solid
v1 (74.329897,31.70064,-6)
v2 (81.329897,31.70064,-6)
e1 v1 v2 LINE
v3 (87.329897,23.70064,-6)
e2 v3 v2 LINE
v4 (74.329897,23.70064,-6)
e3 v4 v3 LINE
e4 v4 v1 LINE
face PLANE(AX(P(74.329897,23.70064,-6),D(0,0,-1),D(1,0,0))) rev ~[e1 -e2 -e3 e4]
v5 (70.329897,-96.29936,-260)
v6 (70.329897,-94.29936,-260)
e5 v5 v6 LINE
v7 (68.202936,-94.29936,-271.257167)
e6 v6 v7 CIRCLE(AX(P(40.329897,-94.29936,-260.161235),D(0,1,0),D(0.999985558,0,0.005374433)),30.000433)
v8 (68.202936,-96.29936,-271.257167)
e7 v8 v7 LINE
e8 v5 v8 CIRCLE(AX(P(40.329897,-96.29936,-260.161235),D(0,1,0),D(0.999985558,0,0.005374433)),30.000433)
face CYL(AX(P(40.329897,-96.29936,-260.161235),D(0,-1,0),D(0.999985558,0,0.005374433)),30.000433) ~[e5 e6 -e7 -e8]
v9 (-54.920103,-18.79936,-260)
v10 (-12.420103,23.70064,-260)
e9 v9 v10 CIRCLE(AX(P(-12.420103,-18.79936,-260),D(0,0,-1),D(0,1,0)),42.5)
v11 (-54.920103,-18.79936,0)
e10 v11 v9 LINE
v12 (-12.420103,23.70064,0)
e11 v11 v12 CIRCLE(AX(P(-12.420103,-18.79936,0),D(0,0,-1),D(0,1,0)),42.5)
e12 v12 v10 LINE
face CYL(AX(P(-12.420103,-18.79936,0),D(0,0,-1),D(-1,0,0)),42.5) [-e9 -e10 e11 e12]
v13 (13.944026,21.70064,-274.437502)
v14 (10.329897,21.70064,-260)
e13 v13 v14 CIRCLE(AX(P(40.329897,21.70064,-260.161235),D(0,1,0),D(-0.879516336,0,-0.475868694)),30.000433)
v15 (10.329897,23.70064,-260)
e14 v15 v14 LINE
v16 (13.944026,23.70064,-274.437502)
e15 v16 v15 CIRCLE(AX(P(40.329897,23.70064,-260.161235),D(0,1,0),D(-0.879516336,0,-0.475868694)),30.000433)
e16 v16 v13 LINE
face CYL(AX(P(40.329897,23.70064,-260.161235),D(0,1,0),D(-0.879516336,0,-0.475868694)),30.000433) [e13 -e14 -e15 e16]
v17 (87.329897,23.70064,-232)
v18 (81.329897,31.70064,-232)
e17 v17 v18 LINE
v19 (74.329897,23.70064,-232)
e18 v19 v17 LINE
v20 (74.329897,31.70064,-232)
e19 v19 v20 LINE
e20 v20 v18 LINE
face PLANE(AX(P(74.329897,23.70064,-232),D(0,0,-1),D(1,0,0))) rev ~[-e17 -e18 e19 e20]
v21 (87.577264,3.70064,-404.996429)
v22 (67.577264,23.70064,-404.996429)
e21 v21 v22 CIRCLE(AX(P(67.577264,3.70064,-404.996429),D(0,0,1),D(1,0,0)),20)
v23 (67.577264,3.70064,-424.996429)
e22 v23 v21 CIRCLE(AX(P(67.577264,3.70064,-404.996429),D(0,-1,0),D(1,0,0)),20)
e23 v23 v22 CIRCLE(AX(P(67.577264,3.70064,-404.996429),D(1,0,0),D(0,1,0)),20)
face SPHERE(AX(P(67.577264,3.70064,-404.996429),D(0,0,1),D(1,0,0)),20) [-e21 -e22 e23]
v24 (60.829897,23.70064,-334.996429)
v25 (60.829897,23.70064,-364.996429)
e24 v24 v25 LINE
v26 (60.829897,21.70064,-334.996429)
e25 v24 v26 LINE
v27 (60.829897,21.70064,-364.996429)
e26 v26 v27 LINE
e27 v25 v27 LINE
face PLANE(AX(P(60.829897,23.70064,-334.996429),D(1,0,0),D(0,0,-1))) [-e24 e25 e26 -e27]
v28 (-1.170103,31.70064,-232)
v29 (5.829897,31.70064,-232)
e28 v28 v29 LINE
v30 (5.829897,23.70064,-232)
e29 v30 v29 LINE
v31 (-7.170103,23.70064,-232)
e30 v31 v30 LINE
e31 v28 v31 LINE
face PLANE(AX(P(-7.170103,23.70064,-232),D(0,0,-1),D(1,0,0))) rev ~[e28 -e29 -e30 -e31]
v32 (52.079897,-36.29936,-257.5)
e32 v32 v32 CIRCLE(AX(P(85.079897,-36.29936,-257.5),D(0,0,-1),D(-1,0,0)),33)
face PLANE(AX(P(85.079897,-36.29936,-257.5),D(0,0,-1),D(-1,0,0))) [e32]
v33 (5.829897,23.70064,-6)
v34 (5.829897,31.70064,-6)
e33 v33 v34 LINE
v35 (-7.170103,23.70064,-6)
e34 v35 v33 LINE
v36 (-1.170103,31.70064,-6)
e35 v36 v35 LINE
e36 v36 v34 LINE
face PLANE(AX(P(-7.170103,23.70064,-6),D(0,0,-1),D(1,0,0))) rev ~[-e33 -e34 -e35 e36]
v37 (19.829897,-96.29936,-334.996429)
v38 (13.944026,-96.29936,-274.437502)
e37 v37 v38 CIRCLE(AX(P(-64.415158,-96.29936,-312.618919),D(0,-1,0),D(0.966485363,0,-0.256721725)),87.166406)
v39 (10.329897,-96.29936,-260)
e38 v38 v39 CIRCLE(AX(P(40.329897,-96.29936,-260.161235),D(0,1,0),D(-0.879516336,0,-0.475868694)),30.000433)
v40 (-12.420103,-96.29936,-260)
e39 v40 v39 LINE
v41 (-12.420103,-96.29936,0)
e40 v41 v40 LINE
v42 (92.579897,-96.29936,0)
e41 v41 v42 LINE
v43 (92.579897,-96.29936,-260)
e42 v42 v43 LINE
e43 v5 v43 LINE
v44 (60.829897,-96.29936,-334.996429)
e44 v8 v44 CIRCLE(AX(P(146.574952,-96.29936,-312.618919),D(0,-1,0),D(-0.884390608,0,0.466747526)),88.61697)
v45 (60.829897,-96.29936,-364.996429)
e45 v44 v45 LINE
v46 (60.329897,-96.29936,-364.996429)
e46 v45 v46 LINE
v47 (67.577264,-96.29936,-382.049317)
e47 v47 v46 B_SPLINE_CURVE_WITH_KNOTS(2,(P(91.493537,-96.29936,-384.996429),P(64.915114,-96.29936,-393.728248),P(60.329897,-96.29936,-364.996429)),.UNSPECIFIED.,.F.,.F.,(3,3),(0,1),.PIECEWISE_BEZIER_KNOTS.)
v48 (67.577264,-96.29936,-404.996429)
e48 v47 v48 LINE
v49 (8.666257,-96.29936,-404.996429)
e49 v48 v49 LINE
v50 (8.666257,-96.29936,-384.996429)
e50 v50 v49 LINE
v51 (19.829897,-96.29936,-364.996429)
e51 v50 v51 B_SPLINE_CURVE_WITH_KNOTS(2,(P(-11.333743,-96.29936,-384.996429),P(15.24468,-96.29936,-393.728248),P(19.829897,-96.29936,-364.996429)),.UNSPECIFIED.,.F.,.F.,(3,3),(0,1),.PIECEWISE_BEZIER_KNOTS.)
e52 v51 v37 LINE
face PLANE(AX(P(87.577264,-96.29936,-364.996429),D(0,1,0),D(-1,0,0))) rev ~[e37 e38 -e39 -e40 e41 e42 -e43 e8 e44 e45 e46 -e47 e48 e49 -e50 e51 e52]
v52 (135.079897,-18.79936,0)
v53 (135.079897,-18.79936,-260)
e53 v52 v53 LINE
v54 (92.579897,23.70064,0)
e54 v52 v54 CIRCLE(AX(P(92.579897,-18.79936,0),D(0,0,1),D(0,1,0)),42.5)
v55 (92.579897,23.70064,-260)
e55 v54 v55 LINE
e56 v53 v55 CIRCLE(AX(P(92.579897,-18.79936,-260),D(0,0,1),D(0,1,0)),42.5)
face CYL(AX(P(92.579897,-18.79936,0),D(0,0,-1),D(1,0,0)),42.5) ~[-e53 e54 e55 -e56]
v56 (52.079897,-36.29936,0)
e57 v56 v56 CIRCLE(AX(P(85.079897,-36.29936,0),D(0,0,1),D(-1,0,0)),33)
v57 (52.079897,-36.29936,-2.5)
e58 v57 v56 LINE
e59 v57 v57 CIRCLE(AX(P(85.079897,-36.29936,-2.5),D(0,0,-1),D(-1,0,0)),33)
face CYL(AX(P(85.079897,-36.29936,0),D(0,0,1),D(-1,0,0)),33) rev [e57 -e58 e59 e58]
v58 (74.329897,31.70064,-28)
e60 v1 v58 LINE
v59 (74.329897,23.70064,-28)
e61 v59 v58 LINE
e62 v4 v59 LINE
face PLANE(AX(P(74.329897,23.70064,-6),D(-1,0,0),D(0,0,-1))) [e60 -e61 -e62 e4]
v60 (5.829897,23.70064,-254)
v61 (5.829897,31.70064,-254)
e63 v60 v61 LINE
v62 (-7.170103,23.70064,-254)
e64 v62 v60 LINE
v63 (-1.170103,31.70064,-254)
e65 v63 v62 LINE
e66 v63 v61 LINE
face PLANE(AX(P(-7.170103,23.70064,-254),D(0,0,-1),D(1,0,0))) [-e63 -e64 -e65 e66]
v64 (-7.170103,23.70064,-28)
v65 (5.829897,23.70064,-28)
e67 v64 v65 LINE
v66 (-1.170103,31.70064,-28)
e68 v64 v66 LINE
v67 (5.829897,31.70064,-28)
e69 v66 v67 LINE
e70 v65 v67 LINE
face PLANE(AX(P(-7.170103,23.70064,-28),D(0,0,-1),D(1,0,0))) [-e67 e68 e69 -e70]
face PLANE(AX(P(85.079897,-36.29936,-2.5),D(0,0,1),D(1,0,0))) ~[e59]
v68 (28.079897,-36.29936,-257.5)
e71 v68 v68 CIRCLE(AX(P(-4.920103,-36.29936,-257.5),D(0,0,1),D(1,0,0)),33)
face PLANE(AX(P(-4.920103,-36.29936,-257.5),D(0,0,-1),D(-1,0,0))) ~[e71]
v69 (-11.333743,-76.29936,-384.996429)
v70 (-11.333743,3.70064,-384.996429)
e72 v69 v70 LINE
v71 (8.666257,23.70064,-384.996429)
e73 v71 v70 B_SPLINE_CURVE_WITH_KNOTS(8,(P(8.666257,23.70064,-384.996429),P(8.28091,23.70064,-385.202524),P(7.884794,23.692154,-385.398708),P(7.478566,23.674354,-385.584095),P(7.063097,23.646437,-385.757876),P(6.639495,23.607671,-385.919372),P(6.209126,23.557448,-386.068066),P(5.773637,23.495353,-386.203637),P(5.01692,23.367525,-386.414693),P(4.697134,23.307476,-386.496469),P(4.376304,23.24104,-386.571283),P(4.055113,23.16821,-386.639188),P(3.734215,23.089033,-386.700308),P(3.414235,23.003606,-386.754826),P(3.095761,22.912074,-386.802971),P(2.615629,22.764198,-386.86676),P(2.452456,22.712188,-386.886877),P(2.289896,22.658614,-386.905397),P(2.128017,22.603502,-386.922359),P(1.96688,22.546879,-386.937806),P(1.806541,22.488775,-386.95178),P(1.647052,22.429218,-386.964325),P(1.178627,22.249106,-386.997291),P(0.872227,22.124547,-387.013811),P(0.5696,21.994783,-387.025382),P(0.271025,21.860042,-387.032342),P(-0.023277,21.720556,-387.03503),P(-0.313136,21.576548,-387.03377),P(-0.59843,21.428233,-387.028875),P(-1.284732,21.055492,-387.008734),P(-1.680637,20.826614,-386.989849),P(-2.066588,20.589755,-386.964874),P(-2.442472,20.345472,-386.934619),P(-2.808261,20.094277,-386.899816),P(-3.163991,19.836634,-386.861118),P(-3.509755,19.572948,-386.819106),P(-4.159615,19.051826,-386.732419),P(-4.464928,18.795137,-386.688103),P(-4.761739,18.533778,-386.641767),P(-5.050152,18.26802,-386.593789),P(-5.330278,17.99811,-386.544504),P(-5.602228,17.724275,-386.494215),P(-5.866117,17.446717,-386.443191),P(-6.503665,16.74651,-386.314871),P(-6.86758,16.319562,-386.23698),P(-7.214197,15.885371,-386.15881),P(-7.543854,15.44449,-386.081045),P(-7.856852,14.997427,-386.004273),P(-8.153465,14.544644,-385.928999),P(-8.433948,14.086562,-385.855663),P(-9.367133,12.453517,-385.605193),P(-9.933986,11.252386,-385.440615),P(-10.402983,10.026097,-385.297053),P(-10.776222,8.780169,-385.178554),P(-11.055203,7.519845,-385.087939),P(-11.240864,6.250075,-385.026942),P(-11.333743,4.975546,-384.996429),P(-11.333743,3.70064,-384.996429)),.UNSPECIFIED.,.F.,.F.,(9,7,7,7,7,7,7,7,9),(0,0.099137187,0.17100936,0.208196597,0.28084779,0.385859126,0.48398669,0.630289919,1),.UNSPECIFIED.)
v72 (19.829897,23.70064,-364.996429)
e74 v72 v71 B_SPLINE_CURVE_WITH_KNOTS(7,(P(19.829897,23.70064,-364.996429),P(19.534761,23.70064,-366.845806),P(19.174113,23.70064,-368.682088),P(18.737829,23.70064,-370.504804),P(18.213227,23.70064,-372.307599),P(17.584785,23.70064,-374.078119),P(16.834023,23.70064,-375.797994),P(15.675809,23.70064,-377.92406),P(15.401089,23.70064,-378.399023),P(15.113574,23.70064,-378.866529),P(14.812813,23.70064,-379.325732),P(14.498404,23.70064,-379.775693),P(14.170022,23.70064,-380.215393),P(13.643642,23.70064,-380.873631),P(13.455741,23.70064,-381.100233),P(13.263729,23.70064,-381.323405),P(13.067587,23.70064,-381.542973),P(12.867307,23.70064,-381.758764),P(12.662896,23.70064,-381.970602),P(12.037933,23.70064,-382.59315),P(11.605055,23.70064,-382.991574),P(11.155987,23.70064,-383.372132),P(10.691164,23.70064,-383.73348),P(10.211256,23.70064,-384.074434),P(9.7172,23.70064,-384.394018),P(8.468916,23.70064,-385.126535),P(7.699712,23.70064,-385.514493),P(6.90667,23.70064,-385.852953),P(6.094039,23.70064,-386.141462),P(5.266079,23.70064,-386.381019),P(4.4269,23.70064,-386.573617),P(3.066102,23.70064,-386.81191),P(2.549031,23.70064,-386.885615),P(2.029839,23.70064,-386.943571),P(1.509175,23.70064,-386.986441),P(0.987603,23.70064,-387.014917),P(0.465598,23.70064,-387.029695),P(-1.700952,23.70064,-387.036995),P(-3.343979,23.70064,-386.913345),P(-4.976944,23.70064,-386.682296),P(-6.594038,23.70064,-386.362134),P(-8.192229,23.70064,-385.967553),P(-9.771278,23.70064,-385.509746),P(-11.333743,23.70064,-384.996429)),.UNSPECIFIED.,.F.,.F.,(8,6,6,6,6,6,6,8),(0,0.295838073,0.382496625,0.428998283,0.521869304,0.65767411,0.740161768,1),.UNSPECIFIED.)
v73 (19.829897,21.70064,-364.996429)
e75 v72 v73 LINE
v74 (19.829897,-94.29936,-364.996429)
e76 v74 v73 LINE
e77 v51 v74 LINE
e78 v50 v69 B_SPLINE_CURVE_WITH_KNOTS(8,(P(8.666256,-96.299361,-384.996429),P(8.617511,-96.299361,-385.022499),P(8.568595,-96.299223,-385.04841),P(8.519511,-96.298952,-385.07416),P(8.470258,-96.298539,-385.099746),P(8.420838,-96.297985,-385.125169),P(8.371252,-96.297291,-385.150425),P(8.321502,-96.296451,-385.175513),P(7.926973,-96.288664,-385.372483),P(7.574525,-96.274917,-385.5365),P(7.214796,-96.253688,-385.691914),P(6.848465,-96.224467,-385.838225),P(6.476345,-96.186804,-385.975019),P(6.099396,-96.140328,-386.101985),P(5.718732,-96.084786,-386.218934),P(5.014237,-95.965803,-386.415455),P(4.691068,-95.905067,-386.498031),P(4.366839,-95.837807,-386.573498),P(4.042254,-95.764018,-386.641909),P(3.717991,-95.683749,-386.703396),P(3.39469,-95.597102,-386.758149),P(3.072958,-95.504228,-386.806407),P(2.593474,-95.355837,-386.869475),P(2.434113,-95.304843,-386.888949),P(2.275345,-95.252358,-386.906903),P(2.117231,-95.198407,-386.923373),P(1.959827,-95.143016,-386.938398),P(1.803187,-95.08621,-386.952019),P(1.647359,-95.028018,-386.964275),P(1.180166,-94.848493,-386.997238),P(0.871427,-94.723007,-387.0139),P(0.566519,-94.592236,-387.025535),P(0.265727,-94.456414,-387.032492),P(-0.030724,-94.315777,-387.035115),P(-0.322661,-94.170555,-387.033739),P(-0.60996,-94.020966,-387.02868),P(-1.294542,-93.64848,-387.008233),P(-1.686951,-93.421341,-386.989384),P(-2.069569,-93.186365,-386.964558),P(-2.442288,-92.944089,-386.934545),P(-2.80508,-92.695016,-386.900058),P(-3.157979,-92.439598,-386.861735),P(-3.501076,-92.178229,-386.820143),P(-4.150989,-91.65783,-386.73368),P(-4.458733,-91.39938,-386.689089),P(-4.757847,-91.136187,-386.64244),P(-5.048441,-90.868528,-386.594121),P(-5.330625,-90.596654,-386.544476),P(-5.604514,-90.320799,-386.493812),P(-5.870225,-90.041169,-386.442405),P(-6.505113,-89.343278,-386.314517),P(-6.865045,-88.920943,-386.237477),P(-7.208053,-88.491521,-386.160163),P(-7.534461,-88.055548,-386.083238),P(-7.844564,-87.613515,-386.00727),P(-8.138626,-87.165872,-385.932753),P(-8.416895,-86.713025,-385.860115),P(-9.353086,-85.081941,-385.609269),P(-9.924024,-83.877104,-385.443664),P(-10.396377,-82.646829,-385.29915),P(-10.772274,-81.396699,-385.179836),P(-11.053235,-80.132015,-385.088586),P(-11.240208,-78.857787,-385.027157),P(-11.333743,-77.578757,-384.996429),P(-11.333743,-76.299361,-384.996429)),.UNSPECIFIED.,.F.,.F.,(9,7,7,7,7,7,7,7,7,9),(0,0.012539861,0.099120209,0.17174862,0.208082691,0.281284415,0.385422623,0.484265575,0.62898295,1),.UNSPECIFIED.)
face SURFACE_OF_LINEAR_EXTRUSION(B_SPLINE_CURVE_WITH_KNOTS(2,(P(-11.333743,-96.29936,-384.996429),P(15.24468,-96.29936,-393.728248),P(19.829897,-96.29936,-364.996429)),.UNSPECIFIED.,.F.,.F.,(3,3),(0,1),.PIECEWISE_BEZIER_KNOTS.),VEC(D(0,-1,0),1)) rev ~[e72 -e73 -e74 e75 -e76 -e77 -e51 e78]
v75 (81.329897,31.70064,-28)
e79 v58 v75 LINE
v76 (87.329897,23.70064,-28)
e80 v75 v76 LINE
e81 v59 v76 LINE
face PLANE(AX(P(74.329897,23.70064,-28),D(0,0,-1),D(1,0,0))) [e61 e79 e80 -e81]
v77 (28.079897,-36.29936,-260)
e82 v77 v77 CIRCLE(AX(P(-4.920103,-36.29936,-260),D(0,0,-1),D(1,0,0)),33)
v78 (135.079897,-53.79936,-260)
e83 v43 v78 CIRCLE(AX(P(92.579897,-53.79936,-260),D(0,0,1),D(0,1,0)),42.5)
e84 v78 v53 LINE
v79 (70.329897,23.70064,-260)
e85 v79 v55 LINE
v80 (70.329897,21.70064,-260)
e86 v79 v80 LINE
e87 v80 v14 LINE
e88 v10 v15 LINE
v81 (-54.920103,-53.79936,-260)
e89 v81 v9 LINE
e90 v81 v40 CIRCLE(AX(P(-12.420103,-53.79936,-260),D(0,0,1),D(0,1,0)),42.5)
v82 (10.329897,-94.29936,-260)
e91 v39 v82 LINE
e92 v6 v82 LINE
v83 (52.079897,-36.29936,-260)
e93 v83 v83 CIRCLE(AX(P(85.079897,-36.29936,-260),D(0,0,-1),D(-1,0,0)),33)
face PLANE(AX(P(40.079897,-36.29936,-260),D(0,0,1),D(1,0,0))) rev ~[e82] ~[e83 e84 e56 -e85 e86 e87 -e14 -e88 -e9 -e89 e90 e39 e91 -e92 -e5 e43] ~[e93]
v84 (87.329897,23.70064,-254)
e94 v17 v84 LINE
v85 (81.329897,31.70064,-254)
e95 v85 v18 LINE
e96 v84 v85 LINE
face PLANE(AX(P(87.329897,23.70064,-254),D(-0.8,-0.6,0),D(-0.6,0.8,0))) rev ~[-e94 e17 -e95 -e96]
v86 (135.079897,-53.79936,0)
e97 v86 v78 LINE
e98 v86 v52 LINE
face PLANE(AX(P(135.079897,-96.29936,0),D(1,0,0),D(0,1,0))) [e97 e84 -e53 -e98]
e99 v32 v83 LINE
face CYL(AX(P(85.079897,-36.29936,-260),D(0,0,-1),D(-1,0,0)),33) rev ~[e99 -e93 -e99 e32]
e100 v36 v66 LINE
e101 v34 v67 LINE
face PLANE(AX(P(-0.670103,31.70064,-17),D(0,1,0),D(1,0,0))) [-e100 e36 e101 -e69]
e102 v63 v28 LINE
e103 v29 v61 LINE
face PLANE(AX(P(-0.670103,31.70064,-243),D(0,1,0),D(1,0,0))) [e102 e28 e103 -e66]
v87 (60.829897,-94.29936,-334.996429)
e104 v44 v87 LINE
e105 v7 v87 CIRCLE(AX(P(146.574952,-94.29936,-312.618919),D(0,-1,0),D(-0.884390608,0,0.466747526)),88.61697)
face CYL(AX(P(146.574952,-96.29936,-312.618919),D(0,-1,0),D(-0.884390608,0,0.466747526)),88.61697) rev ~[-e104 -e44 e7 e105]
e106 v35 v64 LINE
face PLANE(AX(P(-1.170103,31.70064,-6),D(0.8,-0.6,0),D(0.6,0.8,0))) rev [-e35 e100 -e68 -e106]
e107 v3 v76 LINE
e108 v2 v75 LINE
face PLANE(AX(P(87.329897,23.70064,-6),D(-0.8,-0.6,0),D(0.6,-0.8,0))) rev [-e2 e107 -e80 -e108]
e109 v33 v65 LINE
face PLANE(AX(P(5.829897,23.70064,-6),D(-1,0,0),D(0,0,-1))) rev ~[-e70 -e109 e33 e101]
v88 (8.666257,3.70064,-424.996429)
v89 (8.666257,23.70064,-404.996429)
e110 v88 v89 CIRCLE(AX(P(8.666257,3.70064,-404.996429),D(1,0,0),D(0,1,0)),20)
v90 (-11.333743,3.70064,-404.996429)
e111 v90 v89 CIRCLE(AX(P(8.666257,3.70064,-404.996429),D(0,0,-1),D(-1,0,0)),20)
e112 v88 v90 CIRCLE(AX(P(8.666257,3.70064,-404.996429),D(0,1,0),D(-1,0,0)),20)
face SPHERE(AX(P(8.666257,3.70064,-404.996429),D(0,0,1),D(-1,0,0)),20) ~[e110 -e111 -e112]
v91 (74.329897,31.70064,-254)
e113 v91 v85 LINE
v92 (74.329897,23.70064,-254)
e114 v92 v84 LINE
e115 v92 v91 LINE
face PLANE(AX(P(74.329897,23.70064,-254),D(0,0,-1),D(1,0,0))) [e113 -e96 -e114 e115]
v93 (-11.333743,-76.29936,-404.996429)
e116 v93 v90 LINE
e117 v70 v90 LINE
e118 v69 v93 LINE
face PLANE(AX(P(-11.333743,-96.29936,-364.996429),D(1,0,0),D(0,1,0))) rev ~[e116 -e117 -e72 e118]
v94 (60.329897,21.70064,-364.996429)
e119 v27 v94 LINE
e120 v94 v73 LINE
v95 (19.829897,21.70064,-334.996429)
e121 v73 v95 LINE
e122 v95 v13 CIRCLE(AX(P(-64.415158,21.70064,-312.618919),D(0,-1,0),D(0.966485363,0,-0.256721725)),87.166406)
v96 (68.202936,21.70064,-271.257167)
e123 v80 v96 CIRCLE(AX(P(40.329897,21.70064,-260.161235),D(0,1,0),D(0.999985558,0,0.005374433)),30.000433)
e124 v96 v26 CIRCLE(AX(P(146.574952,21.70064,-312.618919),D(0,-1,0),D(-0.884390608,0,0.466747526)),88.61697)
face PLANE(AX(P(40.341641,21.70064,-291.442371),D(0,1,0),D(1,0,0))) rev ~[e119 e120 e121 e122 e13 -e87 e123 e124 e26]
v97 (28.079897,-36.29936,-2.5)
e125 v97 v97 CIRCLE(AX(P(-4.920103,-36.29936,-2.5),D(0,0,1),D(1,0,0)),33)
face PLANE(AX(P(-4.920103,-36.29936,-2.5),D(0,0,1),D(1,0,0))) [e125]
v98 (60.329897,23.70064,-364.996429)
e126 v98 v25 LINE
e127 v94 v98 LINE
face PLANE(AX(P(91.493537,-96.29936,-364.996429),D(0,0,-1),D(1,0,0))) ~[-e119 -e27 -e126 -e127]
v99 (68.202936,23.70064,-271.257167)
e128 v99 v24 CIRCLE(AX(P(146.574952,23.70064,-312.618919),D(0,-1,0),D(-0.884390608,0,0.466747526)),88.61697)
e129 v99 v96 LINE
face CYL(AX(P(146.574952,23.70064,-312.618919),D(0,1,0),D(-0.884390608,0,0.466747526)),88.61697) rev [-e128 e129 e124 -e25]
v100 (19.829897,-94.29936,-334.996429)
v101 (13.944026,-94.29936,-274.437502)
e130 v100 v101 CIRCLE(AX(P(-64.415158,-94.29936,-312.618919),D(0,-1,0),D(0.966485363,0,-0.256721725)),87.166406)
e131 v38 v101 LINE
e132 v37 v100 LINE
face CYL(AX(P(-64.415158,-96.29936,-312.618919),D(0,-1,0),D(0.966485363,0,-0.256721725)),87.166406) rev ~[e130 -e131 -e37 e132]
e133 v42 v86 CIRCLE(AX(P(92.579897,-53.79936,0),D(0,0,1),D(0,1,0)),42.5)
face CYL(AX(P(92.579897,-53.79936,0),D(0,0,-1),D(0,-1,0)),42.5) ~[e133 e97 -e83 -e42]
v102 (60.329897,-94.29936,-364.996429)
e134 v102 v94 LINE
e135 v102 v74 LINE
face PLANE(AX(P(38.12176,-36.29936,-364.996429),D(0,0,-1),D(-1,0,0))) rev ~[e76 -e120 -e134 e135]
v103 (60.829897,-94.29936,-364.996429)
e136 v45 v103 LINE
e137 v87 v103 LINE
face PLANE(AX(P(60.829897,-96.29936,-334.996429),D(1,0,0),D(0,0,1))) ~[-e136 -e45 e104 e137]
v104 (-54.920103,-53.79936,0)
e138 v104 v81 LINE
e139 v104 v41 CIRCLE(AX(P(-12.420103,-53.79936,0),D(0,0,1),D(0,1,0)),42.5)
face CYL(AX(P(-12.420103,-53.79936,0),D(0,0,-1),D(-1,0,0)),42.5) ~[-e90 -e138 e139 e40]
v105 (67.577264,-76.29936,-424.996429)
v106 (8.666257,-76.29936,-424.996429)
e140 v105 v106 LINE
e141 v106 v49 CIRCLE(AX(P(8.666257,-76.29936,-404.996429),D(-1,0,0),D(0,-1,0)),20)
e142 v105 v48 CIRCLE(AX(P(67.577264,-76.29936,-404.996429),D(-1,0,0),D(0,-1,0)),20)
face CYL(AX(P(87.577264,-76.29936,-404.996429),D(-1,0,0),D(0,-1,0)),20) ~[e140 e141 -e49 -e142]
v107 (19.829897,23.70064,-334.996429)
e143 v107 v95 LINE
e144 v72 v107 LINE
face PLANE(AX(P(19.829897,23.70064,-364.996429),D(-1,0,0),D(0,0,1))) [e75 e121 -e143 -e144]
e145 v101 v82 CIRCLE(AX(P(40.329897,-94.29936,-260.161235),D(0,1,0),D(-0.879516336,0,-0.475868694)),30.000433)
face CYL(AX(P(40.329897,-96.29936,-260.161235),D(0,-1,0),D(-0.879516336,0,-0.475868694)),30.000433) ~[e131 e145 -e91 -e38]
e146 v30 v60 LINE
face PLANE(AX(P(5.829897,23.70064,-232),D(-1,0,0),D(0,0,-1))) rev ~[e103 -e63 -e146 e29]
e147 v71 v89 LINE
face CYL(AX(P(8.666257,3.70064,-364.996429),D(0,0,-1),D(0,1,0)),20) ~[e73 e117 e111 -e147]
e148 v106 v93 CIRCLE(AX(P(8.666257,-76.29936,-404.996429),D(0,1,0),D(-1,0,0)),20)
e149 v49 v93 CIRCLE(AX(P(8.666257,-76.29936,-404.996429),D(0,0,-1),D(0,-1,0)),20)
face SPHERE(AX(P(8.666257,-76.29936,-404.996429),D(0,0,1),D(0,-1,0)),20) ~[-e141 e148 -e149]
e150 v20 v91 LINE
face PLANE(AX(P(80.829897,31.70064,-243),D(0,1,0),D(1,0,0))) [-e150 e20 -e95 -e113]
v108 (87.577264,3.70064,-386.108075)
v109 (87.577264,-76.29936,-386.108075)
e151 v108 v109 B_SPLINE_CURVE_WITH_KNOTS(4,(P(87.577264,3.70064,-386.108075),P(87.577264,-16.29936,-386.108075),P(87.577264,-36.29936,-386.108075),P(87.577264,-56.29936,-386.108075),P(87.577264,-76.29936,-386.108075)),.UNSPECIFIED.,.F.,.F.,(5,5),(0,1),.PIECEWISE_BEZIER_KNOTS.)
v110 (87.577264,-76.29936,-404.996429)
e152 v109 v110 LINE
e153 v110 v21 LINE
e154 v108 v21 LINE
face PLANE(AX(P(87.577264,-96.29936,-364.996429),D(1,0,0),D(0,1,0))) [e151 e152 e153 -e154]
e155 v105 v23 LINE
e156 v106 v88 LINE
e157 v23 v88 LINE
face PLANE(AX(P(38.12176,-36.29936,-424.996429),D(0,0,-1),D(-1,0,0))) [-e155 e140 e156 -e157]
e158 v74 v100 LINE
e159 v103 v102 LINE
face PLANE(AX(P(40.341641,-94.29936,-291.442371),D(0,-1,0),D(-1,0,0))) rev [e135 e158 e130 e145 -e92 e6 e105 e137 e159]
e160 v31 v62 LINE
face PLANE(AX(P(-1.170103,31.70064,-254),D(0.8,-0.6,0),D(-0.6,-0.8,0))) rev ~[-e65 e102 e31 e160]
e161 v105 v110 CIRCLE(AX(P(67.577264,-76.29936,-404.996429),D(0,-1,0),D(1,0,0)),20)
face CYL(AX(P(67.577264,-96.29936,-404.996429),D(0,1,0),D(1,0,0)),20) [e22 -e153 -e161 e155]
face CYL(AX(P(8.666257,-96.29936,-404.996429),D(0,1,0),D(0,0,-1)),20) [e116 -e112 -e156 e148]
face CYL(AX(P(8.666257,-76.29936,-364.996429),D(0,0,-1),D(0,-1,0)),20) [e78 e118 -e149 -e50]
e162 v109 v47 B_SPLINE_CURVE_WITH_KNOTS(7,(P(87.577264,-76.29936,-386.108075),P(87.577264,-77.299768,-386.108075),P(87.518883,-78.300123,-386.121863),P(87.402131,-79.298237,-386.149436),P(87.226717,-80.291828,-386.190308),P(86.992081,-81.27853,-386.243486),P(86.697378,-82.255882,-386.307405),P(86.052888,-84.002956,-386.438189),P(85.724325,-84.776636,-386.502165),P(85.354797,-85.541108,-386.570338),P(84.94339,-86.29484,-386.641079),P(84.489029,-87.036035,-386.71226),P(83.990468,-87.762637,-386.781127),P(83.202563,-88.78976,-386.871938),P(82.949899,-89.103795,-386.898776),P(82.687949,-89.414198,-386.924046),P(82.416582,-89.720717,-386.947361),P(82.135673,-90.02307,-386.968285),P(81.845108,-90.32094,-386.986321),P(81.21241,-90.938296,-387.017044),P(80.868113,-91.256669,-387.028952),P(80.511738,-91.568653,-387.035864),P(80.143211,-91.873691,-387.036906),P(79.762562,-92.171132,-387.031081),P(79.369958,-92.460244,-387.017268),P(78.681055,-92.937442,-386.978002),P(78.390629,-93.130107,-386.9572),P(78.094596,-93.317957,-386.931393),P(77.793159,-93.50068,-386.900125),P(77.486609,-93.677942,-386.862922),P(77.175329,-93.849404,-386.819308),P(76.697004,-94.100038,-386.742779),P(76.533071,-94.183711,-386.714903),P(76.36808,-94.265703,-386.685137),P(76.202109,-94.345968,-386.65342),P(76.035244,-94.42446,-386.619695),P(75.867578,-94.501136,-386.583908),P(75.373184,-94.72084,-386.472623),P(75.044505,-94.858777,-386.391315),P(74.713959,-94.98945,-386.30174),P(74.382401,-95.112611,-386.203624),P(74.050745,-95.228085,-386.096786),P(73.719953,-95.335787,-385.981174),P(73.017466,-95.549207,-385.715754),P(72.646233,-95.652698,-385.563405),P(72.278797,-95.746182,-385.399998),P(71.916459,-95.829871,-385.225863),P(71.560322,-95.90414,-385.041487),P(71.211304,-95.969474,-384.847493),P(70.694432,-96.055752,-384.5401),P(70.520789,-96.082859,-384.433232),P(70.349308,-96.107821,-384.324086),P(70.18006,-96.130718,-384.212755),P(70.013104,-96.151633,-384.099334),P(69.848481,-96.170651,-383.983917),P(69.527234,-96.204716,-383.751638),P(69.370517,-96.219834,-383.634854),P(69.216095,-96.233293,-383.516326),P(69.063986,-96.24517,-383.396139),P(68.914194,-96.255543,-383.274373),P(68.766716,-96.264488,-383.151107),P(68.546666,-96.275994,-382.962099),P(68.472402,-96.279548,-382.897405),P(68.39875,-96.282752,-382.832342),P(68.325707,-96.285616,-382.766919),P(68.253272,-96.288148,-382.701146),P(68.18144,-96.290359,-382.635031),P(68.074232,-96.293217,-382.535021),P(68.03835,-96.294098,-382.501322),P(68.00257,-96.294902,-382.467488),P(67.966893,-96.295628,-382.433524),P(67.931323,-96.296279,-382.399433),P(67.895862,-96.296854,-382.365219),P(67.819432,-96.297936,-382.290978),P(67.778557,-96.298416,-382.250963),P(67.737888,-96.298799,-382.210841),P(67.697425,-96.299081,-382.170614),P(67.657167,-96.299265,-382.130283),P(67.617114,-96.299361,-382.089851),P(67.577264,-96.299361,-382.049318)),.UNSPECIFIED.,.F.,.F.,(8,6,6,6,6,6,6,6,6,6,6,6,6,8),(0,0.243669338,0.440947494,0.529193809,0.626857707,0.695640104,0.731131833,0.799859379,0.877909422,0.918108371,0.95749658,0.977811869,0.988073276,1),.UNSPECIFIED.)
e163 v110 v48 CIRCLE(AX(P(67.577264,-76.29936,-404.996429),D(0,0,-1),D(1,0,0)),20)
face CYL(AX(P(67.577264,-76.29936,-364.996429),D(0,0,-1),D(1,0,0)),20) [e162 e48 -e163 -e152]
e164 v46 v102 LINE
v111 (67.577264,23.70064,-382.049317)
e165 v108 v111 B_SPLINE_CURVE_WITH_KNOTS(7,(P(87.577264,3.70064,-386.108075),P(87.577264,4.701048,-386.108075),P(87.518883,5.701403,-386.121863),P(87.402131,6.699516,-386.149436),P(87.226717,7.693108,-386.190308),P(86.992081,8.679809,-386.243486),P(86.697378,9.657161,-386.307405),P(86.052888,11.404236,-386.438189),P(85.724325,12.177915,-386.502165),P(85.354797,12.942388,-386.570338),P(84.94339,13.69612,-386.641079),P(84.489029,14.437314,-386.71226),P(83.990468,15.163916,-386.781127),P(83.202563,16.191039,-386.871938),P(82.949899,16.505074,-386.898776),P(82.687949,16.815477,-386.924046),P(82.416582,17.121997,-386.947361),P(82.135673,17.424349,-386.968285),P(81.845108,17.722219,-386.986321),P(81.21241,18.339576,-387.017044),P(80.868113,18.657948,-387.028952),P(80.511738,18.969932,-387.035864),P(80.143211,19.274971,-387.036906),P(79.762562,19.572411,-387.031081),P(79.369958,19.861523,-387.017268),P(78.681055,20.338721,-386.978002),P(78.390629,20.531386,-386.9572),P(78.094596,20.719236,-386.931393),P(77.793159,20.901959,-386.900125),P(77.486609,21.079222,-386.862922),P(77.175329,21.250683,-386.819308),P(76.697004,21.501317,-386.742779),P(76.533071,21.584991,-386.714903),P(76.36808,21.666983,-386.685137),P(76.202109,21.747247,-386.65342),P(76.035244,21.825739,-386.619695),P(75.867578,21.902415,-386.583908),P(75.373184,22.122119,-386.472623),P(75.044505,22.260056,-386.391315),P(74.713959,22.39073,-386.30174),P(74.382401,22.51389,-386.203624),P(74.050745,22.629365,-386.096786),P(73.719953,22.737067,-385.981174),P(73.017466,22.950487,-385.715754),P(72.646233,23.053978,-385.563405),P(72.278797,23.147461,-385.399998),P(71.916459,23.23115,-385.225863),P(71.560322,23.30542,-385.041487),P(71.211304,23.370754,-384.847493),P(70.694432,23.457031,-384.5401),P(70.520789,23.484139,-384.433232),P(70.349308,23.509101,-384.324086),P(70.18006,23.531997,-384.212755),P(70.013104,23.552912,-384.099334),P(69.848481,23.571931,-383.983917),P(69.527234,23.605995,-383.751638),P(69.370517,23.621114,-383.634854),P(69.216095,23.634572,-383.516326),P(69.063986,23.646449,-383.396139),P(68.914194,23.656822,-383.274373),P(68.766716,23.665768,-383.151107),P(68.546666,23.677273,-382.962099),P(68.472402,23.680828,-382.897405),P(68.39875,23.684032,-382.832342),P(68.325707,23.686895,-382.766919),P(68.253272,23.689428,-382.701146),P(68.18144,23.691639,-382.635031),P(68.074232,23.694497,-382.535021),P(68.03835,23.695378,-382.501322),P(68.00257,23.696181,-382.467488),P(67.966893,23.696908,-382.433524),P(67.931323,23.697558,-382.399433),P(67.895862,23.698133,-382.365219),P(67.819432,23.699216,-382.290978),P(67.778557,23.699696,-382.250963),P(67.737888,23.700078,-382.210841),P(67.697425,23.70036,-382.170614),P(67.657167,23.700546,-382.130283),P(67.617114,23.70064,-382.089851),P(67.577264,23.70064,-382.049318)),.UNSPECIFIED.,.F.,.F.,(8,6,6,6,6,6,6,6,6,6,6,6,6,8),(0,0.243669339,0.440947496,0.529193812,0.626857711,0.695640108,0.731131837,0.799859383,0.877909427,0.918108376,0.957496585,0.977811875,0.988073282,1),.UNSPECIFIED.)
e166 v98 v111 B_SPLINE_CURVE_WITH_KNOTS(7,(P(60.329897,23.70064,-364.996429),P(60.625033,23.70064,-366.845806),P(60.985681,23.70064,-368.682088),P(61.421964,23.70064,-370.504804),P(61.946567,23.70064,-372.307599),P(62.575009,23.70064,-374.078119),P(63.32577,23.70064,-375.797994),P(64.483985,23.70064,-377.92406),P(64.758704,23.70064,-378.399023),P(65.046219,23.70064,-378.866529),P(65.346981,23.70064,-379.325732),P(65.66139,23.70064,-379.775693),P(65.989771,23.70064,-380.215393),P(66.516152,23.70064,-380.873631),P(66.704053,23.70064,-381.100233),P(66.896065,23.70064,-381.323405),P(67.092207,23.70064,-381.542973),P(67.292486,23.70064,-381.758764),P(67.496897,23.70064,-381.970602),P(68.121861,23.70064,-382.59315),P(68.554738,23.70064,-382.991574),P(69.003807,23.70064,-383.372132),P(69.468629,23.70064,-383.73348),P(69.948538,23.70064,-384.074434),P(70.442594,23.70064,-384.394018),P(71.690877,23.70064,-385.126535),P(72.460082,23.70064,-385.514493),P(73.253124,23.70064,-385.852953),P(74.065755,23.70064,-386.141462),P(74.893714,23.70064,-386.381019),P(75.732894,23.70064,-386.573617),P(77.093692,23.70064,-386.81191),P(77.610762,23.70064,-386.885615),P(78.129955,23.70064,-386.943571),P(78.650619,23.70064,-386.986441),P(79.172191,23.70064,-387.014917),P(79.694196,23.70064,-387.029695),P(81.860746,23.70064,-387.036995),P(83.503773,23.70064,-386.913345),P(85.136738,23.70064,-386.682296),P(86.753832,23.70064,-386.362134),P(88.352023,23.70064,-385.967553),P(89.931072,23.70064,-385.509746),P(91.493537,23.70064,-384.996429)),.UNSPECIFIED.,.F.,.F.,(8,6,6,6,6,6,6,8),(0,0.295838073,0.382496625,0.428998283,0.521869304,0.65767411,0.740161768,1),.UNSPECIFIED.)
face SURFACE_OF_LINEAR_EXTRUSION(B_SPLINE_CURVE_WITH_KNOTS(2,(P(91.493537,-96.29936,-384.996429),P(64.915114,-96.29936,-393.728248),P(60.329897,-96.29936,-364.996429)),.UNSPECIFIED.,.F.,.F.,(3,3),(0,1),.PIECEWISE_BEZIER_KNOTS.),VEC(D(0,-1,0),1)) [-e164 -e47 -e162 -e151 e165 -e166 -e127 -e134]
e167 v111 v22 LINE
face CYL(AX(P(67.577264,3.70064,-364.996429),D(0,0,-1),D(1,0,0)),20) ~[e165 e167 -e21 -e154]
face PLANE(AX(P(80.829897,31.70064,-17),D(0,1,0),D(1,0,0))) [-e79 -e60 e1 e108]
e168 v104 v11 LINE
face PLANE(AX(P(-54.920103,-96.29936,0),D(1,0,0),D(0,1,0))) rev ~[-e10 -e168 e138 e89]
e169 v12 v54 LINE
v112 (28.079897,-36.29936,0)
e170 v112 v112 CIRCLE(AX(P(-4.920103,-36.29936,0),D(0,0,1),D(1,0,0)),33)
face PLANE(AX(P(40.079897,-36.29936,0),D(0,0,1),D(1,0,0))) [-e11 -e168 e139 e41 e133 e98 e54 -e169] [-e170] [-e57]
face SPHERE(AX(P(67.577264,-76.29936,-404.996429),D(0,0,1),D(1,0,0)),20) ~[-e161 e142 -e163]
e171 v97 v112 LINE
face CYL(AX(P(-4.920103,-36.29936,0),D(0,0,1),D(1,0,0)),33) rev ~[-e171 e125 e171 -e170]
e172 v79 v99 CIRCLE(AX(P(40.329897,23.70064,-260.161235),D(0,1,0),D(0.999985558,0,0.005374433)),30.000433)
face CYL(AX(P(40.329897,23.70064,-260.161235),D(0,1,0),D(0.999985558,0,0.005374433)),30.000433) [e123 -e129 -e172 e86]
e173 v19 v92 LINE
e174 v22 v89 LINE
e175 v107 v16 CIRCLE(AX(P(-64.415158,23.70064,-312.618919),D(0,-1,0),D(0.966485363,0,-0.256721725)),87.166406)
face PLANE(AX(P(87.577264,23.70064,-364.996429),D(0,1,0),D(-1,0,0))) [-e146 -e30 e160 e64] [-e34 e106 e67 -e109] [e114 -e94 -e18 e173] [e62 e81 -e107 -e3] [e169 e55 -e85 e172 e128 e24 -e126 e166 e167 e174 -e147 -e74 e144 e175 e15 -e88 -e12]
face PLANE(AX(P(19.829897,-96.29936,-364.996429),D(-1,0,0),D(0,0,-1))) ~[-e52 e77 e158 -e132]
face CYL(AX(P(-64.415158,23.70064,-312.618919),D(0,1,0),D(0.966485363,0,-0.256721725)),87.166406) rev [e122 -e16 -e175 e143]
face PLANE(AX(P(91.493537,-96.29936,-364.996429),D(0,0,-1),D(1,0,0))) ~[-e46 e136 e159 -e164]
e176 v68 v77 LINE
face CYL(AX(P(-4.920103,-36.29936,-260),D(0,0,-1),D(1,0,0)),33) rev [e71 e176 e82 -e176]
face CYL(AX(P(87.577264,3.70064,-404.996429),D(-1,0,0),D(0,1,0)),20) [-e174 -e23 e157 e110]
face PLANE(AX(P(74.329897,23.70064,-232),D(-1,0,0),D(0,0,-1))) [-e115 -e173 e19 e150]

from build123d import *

# Parameters (mm, degrees)
SKETCH1_W               = 190
SKETCH1_H               = 120
BOSS_EXTRUDE1_DEPTH     = 260
FILLET1_R               = 42.5
SKETCH2_W               = 13
SKETCH2_H               = 22
BOSS_EXTRUDE2_DEPTH     = 8
CUT_EXTRUDE5_DEPTH      = 32
CUT_EXTRUDE6_DEPTH      = 32
BOSS_EXTRUDE3_DEPTH     = 2
SKETCH10_R              = 33
CUT_EXTRUDE7_DEPTH      = 2.5
MIRROR3_COPY_1_SKETCH_R = 33
MIRROR3_COPY_1_DEPTH    = 2.5
SKETCH11_W              = 98.911006982
SKETCH11_H              = 120
BOSS_EXTRUDE4_DEPTH     = 60
FILLET2_R               = 20
CUT_EXTRUDE8_REACH      = 465.953


with BuildPart() as part:
    # Sketch1 → Boss-Extrude1 (new body)
    with BuildSketch(Plane.XY):
        with Locations((40.07989685, -36.299360248)):
            Rectangle(SKETCH1_W, SKETCH1_H)
    extrude(amount=-BOSS_EXTRUDE1_DEPTH)

    # Fillet1
    fillet1_edges = [part.edges().sort_by_distance(p)[0] for p in [
        (-54.92010315, 23.700639752, -130),
        (135.07989685, 23.700639752, -130),
        (135.07989685, -96.299360248, -130),
        (-54.92010315, -96.299360248, -130),
    ]]
    fillet(fillet1_edges, radius=FILLET1_R)

    # Sketch2 → Boss-Extrude2 (add)
    with BuildSketch(Plane(origin=(0, 23.700639752, 0), x_dir=(1, 0, 0), z_dir=(0, 1, 0))):
        with Locations((-0.67010315, 243)):
            Rectangle(SKETCH2_W, SKETCH2_H)
        with Locations((80.82989685, 243)):
            Rectangle(SKETCH2_W, SKETCH2_H)
        with Locations((-0.67010315, 17)):
            Rectangle(SKETCH2_W, SKETCH2_H)
        with Locations((80.82989685, 17)):
            Rectangle(SKETCH2_W, SKETCH2_H)
    extrude(amount=BOSS_EXTRUDE2_DEPTH)

    # Sketch5 → Cut-Extrude5 (cut)
    with BuildSketch(Plane(origin=(0, 0, -254), x_dir=(-1, 0, 0), z_dir=(0, 0, -1))):
        Polygon((-87.32989685, 23.700639752), (-81.32989685, 31.700639752), (-87.32989685, 31.700639752), align=None)
    cut_extrude5 = extrude(amount=-CUT_EXTRUDE5_DEPTH, mode=Mode.SUBTRACT)

    # Sketch7 → Cut-Extrude6 (cut)
    with BuildSketch(Plane(origin=(0, 0, -254), x_dir=(-1, 0, 0), z_dir=(0, 0, -1))):
        Polygon((1.17010315, 31.700639752), (7.17010315, 23.700639752), (7.17010315, 31.700639752), align=None)
    cut_extrude6 = extrude(amount=-CUT_EXTRUDE6_DEPTH, mode=Mode.SUBTRACT)

    # Mirror1: Cut-Extrude5, Cut-Extrude6 across plane
    add(cut_extrude5.mirror(Plane.XY.offset(-130)), mode=Mode.SUBTRACT)
    add(cut_extrude6.mirror(Plane.XY.offset(-130)), mode=Mode.SUBTRACT)

    # Sketch9 → Boss-Extrude3 (add)
    with BuildSketch(Plane(origin=(0, 23.700639752, 0), x_dir=(1, 0, 0), z_dir=(0, 1, 0))):
        with BuildLine():
            ThreePointArc((13.944025684, 274.437502336), (11.227457344, 267.446426584), (10.32989685, 260))
            Line((10.32989685, 260), (10.32989685, 225))
            Line((10.32989685, 225), (20.57989685, 225))
            Line((20.57989685, 225), (61.829871341, 225))
            Line((61.829871341, 225), (70.32989685, 225))
            Line((70.32989685, 225), (70.32989685, 260))
            ThreePointArc((70.32989685, 260), (69.808755544, 265.731054618), (68.202935744, 271.257167))
            ThreePointArc((68.202935744, 271.257167), (58.544976128, 302.436051532), (60.82989685, 334.996428708))
            Line((60.82989685, 334.996428708), (60.82989685, 364.996428708))
            Line((60.82989685, 364.996428708), (19.82989685, 364.996428708))
            Line((19.82989685, 364.996428708), (19.82989685, 334.996428708))
            ThreePointArc((19.82989685, 334.996428708), (22.342438119, 304.186734294), (13.944025684, 274.437502336))
        make_face()
    boss_extrude3 = extrude(amount=-BOSS_EXTRUDE3_DEPTH)

    # Sketch10 → Cut-Extrude7 (cut, symmetric)
    with BuildSketch(Plane(origin=(0, 0, -260), x_dir=(-1, 0, 0), z_dir=(0, 0, -1))):
        with Locations((-85.07989685, -36.299360248)):
            Circle(SKETCH10_R)
    cut_extrude7 = extrude(amount=CUT_EXTRUDE7_DEPTH, both=True, mode=Mode.SUBTRACT)

    # Mirror2: Cut-Extrude7 across plane
    add(cut_extrude7.mirror(Plane(origin=(40.07989685, 0, 0), x_dir=(0, 0, 1), z_dir=(1, 0, 0))), mode=Mode.SUBTRACT)

    # Mirror3: Cut-Extrude7 across plane
    add(cut_extrude7.mirror(Plane.XY.offset(-130)), mode=Mode.SUBTRACT)

    # Mirror3 copy 1 sketch → Mirror3 copy 1 (cut, symmetric)
    with BuildSketch(Plane(origin=(80.1597937, 0, 0), x_dir=(1, 0, 0), z_dir=(0, 0, 1))):
        with Locations((-85.07989685, -36.299360248)):
            Circle(MIRROR3_COPY_1_SKETCH_R)
    extrude(amount=MIRROR3_COPY_1_DEPTH, both=True, mode=Mode.SUBTRACT)

    # Mirror4: Boss-Extrude3 across plane
    add(boss_extrude3.mirror(Plane.ZX.offset(-36.299360248)))

    # Sketch11 → Boss-Extrude4 (add)
    with BuildSketch(Plane(origin=(0, 0, -364.996428708), x_dir=(-1, 0, 0), z_dir=(0, 0, -1))):
        with Locations((-38.121760163, -36.299360248)):
            Rectangle(SKETCH11_W, SKETCH11_H)
    extrude(amount=BOSS_EXTRUDE4_DEPTH)

    # Fillet2
    fillet2_edges = [part.edges().sort_by_distance(p)[0] for p in [
        (87.577263654, 23.700639752, -394.996428708),
        (87.577263654, -96.299360248, -394.996428708),
        (-11.333743328, -96.299360248, -394.996428708),
        (-11.333743328, 23.700639752, -394.996428708),
        (87.577263654, -36.299360248, -424.996428708),
        (38.121760163, -96.299360248, -424.996428708),
        (-11.333743328, -36.299360248, -424.996428708),
        (38.121760163, 23.700639752, -424.996428708),
    ]]
    fillet(fillet2_edges, radius=FILLET2_R)

    # Sketch12 → Cut-Extrude8 (cut, up to next)
    with BuildSketch(Plane.XZ.offset(96.299360248), mode=Mode.PRIVATE) as cut_extrude8_sk1:
        with BuildLine():
            Line((-11.333743328, -384.996428708), (-11.333743328, -364.996428708))
            Line((-11.333743328, -364.996428708), (19.82989685, -364.996428708))
            add(Edge.make_bspline(
                [(-11.333743328, -384.996428708), (15.244679544, -393.728247891), (19.82989685, -364.996428708)],
                knots=[0, 0, 0, 1, 1, 1], degree=2))
        make_face()
    cut_extrude8_tool1 = extrude(cut_extrude8_sk1.sketch, amount=-CUT_EXTRUDE8_REACH, mode=Mode.PRIVATE) & part.part
    cut_extrude8 = cut_extrude8_tool1.solids().sort_by_distance((2.471753, -96.29936, -374.935763))[0]
    add(cut_extrude8, mode=Mode.SUBTRACT)

    # Mirror5: Cut-Extrude8 across plane
    add(cut_extrude8.mirror(Plane(origin=(40.07989685, 0, 0), x_dir=(0, 0, 1), z_dir=(1, 0, 0))), mode=Mode.SUBTRACT)


solid = part.part
